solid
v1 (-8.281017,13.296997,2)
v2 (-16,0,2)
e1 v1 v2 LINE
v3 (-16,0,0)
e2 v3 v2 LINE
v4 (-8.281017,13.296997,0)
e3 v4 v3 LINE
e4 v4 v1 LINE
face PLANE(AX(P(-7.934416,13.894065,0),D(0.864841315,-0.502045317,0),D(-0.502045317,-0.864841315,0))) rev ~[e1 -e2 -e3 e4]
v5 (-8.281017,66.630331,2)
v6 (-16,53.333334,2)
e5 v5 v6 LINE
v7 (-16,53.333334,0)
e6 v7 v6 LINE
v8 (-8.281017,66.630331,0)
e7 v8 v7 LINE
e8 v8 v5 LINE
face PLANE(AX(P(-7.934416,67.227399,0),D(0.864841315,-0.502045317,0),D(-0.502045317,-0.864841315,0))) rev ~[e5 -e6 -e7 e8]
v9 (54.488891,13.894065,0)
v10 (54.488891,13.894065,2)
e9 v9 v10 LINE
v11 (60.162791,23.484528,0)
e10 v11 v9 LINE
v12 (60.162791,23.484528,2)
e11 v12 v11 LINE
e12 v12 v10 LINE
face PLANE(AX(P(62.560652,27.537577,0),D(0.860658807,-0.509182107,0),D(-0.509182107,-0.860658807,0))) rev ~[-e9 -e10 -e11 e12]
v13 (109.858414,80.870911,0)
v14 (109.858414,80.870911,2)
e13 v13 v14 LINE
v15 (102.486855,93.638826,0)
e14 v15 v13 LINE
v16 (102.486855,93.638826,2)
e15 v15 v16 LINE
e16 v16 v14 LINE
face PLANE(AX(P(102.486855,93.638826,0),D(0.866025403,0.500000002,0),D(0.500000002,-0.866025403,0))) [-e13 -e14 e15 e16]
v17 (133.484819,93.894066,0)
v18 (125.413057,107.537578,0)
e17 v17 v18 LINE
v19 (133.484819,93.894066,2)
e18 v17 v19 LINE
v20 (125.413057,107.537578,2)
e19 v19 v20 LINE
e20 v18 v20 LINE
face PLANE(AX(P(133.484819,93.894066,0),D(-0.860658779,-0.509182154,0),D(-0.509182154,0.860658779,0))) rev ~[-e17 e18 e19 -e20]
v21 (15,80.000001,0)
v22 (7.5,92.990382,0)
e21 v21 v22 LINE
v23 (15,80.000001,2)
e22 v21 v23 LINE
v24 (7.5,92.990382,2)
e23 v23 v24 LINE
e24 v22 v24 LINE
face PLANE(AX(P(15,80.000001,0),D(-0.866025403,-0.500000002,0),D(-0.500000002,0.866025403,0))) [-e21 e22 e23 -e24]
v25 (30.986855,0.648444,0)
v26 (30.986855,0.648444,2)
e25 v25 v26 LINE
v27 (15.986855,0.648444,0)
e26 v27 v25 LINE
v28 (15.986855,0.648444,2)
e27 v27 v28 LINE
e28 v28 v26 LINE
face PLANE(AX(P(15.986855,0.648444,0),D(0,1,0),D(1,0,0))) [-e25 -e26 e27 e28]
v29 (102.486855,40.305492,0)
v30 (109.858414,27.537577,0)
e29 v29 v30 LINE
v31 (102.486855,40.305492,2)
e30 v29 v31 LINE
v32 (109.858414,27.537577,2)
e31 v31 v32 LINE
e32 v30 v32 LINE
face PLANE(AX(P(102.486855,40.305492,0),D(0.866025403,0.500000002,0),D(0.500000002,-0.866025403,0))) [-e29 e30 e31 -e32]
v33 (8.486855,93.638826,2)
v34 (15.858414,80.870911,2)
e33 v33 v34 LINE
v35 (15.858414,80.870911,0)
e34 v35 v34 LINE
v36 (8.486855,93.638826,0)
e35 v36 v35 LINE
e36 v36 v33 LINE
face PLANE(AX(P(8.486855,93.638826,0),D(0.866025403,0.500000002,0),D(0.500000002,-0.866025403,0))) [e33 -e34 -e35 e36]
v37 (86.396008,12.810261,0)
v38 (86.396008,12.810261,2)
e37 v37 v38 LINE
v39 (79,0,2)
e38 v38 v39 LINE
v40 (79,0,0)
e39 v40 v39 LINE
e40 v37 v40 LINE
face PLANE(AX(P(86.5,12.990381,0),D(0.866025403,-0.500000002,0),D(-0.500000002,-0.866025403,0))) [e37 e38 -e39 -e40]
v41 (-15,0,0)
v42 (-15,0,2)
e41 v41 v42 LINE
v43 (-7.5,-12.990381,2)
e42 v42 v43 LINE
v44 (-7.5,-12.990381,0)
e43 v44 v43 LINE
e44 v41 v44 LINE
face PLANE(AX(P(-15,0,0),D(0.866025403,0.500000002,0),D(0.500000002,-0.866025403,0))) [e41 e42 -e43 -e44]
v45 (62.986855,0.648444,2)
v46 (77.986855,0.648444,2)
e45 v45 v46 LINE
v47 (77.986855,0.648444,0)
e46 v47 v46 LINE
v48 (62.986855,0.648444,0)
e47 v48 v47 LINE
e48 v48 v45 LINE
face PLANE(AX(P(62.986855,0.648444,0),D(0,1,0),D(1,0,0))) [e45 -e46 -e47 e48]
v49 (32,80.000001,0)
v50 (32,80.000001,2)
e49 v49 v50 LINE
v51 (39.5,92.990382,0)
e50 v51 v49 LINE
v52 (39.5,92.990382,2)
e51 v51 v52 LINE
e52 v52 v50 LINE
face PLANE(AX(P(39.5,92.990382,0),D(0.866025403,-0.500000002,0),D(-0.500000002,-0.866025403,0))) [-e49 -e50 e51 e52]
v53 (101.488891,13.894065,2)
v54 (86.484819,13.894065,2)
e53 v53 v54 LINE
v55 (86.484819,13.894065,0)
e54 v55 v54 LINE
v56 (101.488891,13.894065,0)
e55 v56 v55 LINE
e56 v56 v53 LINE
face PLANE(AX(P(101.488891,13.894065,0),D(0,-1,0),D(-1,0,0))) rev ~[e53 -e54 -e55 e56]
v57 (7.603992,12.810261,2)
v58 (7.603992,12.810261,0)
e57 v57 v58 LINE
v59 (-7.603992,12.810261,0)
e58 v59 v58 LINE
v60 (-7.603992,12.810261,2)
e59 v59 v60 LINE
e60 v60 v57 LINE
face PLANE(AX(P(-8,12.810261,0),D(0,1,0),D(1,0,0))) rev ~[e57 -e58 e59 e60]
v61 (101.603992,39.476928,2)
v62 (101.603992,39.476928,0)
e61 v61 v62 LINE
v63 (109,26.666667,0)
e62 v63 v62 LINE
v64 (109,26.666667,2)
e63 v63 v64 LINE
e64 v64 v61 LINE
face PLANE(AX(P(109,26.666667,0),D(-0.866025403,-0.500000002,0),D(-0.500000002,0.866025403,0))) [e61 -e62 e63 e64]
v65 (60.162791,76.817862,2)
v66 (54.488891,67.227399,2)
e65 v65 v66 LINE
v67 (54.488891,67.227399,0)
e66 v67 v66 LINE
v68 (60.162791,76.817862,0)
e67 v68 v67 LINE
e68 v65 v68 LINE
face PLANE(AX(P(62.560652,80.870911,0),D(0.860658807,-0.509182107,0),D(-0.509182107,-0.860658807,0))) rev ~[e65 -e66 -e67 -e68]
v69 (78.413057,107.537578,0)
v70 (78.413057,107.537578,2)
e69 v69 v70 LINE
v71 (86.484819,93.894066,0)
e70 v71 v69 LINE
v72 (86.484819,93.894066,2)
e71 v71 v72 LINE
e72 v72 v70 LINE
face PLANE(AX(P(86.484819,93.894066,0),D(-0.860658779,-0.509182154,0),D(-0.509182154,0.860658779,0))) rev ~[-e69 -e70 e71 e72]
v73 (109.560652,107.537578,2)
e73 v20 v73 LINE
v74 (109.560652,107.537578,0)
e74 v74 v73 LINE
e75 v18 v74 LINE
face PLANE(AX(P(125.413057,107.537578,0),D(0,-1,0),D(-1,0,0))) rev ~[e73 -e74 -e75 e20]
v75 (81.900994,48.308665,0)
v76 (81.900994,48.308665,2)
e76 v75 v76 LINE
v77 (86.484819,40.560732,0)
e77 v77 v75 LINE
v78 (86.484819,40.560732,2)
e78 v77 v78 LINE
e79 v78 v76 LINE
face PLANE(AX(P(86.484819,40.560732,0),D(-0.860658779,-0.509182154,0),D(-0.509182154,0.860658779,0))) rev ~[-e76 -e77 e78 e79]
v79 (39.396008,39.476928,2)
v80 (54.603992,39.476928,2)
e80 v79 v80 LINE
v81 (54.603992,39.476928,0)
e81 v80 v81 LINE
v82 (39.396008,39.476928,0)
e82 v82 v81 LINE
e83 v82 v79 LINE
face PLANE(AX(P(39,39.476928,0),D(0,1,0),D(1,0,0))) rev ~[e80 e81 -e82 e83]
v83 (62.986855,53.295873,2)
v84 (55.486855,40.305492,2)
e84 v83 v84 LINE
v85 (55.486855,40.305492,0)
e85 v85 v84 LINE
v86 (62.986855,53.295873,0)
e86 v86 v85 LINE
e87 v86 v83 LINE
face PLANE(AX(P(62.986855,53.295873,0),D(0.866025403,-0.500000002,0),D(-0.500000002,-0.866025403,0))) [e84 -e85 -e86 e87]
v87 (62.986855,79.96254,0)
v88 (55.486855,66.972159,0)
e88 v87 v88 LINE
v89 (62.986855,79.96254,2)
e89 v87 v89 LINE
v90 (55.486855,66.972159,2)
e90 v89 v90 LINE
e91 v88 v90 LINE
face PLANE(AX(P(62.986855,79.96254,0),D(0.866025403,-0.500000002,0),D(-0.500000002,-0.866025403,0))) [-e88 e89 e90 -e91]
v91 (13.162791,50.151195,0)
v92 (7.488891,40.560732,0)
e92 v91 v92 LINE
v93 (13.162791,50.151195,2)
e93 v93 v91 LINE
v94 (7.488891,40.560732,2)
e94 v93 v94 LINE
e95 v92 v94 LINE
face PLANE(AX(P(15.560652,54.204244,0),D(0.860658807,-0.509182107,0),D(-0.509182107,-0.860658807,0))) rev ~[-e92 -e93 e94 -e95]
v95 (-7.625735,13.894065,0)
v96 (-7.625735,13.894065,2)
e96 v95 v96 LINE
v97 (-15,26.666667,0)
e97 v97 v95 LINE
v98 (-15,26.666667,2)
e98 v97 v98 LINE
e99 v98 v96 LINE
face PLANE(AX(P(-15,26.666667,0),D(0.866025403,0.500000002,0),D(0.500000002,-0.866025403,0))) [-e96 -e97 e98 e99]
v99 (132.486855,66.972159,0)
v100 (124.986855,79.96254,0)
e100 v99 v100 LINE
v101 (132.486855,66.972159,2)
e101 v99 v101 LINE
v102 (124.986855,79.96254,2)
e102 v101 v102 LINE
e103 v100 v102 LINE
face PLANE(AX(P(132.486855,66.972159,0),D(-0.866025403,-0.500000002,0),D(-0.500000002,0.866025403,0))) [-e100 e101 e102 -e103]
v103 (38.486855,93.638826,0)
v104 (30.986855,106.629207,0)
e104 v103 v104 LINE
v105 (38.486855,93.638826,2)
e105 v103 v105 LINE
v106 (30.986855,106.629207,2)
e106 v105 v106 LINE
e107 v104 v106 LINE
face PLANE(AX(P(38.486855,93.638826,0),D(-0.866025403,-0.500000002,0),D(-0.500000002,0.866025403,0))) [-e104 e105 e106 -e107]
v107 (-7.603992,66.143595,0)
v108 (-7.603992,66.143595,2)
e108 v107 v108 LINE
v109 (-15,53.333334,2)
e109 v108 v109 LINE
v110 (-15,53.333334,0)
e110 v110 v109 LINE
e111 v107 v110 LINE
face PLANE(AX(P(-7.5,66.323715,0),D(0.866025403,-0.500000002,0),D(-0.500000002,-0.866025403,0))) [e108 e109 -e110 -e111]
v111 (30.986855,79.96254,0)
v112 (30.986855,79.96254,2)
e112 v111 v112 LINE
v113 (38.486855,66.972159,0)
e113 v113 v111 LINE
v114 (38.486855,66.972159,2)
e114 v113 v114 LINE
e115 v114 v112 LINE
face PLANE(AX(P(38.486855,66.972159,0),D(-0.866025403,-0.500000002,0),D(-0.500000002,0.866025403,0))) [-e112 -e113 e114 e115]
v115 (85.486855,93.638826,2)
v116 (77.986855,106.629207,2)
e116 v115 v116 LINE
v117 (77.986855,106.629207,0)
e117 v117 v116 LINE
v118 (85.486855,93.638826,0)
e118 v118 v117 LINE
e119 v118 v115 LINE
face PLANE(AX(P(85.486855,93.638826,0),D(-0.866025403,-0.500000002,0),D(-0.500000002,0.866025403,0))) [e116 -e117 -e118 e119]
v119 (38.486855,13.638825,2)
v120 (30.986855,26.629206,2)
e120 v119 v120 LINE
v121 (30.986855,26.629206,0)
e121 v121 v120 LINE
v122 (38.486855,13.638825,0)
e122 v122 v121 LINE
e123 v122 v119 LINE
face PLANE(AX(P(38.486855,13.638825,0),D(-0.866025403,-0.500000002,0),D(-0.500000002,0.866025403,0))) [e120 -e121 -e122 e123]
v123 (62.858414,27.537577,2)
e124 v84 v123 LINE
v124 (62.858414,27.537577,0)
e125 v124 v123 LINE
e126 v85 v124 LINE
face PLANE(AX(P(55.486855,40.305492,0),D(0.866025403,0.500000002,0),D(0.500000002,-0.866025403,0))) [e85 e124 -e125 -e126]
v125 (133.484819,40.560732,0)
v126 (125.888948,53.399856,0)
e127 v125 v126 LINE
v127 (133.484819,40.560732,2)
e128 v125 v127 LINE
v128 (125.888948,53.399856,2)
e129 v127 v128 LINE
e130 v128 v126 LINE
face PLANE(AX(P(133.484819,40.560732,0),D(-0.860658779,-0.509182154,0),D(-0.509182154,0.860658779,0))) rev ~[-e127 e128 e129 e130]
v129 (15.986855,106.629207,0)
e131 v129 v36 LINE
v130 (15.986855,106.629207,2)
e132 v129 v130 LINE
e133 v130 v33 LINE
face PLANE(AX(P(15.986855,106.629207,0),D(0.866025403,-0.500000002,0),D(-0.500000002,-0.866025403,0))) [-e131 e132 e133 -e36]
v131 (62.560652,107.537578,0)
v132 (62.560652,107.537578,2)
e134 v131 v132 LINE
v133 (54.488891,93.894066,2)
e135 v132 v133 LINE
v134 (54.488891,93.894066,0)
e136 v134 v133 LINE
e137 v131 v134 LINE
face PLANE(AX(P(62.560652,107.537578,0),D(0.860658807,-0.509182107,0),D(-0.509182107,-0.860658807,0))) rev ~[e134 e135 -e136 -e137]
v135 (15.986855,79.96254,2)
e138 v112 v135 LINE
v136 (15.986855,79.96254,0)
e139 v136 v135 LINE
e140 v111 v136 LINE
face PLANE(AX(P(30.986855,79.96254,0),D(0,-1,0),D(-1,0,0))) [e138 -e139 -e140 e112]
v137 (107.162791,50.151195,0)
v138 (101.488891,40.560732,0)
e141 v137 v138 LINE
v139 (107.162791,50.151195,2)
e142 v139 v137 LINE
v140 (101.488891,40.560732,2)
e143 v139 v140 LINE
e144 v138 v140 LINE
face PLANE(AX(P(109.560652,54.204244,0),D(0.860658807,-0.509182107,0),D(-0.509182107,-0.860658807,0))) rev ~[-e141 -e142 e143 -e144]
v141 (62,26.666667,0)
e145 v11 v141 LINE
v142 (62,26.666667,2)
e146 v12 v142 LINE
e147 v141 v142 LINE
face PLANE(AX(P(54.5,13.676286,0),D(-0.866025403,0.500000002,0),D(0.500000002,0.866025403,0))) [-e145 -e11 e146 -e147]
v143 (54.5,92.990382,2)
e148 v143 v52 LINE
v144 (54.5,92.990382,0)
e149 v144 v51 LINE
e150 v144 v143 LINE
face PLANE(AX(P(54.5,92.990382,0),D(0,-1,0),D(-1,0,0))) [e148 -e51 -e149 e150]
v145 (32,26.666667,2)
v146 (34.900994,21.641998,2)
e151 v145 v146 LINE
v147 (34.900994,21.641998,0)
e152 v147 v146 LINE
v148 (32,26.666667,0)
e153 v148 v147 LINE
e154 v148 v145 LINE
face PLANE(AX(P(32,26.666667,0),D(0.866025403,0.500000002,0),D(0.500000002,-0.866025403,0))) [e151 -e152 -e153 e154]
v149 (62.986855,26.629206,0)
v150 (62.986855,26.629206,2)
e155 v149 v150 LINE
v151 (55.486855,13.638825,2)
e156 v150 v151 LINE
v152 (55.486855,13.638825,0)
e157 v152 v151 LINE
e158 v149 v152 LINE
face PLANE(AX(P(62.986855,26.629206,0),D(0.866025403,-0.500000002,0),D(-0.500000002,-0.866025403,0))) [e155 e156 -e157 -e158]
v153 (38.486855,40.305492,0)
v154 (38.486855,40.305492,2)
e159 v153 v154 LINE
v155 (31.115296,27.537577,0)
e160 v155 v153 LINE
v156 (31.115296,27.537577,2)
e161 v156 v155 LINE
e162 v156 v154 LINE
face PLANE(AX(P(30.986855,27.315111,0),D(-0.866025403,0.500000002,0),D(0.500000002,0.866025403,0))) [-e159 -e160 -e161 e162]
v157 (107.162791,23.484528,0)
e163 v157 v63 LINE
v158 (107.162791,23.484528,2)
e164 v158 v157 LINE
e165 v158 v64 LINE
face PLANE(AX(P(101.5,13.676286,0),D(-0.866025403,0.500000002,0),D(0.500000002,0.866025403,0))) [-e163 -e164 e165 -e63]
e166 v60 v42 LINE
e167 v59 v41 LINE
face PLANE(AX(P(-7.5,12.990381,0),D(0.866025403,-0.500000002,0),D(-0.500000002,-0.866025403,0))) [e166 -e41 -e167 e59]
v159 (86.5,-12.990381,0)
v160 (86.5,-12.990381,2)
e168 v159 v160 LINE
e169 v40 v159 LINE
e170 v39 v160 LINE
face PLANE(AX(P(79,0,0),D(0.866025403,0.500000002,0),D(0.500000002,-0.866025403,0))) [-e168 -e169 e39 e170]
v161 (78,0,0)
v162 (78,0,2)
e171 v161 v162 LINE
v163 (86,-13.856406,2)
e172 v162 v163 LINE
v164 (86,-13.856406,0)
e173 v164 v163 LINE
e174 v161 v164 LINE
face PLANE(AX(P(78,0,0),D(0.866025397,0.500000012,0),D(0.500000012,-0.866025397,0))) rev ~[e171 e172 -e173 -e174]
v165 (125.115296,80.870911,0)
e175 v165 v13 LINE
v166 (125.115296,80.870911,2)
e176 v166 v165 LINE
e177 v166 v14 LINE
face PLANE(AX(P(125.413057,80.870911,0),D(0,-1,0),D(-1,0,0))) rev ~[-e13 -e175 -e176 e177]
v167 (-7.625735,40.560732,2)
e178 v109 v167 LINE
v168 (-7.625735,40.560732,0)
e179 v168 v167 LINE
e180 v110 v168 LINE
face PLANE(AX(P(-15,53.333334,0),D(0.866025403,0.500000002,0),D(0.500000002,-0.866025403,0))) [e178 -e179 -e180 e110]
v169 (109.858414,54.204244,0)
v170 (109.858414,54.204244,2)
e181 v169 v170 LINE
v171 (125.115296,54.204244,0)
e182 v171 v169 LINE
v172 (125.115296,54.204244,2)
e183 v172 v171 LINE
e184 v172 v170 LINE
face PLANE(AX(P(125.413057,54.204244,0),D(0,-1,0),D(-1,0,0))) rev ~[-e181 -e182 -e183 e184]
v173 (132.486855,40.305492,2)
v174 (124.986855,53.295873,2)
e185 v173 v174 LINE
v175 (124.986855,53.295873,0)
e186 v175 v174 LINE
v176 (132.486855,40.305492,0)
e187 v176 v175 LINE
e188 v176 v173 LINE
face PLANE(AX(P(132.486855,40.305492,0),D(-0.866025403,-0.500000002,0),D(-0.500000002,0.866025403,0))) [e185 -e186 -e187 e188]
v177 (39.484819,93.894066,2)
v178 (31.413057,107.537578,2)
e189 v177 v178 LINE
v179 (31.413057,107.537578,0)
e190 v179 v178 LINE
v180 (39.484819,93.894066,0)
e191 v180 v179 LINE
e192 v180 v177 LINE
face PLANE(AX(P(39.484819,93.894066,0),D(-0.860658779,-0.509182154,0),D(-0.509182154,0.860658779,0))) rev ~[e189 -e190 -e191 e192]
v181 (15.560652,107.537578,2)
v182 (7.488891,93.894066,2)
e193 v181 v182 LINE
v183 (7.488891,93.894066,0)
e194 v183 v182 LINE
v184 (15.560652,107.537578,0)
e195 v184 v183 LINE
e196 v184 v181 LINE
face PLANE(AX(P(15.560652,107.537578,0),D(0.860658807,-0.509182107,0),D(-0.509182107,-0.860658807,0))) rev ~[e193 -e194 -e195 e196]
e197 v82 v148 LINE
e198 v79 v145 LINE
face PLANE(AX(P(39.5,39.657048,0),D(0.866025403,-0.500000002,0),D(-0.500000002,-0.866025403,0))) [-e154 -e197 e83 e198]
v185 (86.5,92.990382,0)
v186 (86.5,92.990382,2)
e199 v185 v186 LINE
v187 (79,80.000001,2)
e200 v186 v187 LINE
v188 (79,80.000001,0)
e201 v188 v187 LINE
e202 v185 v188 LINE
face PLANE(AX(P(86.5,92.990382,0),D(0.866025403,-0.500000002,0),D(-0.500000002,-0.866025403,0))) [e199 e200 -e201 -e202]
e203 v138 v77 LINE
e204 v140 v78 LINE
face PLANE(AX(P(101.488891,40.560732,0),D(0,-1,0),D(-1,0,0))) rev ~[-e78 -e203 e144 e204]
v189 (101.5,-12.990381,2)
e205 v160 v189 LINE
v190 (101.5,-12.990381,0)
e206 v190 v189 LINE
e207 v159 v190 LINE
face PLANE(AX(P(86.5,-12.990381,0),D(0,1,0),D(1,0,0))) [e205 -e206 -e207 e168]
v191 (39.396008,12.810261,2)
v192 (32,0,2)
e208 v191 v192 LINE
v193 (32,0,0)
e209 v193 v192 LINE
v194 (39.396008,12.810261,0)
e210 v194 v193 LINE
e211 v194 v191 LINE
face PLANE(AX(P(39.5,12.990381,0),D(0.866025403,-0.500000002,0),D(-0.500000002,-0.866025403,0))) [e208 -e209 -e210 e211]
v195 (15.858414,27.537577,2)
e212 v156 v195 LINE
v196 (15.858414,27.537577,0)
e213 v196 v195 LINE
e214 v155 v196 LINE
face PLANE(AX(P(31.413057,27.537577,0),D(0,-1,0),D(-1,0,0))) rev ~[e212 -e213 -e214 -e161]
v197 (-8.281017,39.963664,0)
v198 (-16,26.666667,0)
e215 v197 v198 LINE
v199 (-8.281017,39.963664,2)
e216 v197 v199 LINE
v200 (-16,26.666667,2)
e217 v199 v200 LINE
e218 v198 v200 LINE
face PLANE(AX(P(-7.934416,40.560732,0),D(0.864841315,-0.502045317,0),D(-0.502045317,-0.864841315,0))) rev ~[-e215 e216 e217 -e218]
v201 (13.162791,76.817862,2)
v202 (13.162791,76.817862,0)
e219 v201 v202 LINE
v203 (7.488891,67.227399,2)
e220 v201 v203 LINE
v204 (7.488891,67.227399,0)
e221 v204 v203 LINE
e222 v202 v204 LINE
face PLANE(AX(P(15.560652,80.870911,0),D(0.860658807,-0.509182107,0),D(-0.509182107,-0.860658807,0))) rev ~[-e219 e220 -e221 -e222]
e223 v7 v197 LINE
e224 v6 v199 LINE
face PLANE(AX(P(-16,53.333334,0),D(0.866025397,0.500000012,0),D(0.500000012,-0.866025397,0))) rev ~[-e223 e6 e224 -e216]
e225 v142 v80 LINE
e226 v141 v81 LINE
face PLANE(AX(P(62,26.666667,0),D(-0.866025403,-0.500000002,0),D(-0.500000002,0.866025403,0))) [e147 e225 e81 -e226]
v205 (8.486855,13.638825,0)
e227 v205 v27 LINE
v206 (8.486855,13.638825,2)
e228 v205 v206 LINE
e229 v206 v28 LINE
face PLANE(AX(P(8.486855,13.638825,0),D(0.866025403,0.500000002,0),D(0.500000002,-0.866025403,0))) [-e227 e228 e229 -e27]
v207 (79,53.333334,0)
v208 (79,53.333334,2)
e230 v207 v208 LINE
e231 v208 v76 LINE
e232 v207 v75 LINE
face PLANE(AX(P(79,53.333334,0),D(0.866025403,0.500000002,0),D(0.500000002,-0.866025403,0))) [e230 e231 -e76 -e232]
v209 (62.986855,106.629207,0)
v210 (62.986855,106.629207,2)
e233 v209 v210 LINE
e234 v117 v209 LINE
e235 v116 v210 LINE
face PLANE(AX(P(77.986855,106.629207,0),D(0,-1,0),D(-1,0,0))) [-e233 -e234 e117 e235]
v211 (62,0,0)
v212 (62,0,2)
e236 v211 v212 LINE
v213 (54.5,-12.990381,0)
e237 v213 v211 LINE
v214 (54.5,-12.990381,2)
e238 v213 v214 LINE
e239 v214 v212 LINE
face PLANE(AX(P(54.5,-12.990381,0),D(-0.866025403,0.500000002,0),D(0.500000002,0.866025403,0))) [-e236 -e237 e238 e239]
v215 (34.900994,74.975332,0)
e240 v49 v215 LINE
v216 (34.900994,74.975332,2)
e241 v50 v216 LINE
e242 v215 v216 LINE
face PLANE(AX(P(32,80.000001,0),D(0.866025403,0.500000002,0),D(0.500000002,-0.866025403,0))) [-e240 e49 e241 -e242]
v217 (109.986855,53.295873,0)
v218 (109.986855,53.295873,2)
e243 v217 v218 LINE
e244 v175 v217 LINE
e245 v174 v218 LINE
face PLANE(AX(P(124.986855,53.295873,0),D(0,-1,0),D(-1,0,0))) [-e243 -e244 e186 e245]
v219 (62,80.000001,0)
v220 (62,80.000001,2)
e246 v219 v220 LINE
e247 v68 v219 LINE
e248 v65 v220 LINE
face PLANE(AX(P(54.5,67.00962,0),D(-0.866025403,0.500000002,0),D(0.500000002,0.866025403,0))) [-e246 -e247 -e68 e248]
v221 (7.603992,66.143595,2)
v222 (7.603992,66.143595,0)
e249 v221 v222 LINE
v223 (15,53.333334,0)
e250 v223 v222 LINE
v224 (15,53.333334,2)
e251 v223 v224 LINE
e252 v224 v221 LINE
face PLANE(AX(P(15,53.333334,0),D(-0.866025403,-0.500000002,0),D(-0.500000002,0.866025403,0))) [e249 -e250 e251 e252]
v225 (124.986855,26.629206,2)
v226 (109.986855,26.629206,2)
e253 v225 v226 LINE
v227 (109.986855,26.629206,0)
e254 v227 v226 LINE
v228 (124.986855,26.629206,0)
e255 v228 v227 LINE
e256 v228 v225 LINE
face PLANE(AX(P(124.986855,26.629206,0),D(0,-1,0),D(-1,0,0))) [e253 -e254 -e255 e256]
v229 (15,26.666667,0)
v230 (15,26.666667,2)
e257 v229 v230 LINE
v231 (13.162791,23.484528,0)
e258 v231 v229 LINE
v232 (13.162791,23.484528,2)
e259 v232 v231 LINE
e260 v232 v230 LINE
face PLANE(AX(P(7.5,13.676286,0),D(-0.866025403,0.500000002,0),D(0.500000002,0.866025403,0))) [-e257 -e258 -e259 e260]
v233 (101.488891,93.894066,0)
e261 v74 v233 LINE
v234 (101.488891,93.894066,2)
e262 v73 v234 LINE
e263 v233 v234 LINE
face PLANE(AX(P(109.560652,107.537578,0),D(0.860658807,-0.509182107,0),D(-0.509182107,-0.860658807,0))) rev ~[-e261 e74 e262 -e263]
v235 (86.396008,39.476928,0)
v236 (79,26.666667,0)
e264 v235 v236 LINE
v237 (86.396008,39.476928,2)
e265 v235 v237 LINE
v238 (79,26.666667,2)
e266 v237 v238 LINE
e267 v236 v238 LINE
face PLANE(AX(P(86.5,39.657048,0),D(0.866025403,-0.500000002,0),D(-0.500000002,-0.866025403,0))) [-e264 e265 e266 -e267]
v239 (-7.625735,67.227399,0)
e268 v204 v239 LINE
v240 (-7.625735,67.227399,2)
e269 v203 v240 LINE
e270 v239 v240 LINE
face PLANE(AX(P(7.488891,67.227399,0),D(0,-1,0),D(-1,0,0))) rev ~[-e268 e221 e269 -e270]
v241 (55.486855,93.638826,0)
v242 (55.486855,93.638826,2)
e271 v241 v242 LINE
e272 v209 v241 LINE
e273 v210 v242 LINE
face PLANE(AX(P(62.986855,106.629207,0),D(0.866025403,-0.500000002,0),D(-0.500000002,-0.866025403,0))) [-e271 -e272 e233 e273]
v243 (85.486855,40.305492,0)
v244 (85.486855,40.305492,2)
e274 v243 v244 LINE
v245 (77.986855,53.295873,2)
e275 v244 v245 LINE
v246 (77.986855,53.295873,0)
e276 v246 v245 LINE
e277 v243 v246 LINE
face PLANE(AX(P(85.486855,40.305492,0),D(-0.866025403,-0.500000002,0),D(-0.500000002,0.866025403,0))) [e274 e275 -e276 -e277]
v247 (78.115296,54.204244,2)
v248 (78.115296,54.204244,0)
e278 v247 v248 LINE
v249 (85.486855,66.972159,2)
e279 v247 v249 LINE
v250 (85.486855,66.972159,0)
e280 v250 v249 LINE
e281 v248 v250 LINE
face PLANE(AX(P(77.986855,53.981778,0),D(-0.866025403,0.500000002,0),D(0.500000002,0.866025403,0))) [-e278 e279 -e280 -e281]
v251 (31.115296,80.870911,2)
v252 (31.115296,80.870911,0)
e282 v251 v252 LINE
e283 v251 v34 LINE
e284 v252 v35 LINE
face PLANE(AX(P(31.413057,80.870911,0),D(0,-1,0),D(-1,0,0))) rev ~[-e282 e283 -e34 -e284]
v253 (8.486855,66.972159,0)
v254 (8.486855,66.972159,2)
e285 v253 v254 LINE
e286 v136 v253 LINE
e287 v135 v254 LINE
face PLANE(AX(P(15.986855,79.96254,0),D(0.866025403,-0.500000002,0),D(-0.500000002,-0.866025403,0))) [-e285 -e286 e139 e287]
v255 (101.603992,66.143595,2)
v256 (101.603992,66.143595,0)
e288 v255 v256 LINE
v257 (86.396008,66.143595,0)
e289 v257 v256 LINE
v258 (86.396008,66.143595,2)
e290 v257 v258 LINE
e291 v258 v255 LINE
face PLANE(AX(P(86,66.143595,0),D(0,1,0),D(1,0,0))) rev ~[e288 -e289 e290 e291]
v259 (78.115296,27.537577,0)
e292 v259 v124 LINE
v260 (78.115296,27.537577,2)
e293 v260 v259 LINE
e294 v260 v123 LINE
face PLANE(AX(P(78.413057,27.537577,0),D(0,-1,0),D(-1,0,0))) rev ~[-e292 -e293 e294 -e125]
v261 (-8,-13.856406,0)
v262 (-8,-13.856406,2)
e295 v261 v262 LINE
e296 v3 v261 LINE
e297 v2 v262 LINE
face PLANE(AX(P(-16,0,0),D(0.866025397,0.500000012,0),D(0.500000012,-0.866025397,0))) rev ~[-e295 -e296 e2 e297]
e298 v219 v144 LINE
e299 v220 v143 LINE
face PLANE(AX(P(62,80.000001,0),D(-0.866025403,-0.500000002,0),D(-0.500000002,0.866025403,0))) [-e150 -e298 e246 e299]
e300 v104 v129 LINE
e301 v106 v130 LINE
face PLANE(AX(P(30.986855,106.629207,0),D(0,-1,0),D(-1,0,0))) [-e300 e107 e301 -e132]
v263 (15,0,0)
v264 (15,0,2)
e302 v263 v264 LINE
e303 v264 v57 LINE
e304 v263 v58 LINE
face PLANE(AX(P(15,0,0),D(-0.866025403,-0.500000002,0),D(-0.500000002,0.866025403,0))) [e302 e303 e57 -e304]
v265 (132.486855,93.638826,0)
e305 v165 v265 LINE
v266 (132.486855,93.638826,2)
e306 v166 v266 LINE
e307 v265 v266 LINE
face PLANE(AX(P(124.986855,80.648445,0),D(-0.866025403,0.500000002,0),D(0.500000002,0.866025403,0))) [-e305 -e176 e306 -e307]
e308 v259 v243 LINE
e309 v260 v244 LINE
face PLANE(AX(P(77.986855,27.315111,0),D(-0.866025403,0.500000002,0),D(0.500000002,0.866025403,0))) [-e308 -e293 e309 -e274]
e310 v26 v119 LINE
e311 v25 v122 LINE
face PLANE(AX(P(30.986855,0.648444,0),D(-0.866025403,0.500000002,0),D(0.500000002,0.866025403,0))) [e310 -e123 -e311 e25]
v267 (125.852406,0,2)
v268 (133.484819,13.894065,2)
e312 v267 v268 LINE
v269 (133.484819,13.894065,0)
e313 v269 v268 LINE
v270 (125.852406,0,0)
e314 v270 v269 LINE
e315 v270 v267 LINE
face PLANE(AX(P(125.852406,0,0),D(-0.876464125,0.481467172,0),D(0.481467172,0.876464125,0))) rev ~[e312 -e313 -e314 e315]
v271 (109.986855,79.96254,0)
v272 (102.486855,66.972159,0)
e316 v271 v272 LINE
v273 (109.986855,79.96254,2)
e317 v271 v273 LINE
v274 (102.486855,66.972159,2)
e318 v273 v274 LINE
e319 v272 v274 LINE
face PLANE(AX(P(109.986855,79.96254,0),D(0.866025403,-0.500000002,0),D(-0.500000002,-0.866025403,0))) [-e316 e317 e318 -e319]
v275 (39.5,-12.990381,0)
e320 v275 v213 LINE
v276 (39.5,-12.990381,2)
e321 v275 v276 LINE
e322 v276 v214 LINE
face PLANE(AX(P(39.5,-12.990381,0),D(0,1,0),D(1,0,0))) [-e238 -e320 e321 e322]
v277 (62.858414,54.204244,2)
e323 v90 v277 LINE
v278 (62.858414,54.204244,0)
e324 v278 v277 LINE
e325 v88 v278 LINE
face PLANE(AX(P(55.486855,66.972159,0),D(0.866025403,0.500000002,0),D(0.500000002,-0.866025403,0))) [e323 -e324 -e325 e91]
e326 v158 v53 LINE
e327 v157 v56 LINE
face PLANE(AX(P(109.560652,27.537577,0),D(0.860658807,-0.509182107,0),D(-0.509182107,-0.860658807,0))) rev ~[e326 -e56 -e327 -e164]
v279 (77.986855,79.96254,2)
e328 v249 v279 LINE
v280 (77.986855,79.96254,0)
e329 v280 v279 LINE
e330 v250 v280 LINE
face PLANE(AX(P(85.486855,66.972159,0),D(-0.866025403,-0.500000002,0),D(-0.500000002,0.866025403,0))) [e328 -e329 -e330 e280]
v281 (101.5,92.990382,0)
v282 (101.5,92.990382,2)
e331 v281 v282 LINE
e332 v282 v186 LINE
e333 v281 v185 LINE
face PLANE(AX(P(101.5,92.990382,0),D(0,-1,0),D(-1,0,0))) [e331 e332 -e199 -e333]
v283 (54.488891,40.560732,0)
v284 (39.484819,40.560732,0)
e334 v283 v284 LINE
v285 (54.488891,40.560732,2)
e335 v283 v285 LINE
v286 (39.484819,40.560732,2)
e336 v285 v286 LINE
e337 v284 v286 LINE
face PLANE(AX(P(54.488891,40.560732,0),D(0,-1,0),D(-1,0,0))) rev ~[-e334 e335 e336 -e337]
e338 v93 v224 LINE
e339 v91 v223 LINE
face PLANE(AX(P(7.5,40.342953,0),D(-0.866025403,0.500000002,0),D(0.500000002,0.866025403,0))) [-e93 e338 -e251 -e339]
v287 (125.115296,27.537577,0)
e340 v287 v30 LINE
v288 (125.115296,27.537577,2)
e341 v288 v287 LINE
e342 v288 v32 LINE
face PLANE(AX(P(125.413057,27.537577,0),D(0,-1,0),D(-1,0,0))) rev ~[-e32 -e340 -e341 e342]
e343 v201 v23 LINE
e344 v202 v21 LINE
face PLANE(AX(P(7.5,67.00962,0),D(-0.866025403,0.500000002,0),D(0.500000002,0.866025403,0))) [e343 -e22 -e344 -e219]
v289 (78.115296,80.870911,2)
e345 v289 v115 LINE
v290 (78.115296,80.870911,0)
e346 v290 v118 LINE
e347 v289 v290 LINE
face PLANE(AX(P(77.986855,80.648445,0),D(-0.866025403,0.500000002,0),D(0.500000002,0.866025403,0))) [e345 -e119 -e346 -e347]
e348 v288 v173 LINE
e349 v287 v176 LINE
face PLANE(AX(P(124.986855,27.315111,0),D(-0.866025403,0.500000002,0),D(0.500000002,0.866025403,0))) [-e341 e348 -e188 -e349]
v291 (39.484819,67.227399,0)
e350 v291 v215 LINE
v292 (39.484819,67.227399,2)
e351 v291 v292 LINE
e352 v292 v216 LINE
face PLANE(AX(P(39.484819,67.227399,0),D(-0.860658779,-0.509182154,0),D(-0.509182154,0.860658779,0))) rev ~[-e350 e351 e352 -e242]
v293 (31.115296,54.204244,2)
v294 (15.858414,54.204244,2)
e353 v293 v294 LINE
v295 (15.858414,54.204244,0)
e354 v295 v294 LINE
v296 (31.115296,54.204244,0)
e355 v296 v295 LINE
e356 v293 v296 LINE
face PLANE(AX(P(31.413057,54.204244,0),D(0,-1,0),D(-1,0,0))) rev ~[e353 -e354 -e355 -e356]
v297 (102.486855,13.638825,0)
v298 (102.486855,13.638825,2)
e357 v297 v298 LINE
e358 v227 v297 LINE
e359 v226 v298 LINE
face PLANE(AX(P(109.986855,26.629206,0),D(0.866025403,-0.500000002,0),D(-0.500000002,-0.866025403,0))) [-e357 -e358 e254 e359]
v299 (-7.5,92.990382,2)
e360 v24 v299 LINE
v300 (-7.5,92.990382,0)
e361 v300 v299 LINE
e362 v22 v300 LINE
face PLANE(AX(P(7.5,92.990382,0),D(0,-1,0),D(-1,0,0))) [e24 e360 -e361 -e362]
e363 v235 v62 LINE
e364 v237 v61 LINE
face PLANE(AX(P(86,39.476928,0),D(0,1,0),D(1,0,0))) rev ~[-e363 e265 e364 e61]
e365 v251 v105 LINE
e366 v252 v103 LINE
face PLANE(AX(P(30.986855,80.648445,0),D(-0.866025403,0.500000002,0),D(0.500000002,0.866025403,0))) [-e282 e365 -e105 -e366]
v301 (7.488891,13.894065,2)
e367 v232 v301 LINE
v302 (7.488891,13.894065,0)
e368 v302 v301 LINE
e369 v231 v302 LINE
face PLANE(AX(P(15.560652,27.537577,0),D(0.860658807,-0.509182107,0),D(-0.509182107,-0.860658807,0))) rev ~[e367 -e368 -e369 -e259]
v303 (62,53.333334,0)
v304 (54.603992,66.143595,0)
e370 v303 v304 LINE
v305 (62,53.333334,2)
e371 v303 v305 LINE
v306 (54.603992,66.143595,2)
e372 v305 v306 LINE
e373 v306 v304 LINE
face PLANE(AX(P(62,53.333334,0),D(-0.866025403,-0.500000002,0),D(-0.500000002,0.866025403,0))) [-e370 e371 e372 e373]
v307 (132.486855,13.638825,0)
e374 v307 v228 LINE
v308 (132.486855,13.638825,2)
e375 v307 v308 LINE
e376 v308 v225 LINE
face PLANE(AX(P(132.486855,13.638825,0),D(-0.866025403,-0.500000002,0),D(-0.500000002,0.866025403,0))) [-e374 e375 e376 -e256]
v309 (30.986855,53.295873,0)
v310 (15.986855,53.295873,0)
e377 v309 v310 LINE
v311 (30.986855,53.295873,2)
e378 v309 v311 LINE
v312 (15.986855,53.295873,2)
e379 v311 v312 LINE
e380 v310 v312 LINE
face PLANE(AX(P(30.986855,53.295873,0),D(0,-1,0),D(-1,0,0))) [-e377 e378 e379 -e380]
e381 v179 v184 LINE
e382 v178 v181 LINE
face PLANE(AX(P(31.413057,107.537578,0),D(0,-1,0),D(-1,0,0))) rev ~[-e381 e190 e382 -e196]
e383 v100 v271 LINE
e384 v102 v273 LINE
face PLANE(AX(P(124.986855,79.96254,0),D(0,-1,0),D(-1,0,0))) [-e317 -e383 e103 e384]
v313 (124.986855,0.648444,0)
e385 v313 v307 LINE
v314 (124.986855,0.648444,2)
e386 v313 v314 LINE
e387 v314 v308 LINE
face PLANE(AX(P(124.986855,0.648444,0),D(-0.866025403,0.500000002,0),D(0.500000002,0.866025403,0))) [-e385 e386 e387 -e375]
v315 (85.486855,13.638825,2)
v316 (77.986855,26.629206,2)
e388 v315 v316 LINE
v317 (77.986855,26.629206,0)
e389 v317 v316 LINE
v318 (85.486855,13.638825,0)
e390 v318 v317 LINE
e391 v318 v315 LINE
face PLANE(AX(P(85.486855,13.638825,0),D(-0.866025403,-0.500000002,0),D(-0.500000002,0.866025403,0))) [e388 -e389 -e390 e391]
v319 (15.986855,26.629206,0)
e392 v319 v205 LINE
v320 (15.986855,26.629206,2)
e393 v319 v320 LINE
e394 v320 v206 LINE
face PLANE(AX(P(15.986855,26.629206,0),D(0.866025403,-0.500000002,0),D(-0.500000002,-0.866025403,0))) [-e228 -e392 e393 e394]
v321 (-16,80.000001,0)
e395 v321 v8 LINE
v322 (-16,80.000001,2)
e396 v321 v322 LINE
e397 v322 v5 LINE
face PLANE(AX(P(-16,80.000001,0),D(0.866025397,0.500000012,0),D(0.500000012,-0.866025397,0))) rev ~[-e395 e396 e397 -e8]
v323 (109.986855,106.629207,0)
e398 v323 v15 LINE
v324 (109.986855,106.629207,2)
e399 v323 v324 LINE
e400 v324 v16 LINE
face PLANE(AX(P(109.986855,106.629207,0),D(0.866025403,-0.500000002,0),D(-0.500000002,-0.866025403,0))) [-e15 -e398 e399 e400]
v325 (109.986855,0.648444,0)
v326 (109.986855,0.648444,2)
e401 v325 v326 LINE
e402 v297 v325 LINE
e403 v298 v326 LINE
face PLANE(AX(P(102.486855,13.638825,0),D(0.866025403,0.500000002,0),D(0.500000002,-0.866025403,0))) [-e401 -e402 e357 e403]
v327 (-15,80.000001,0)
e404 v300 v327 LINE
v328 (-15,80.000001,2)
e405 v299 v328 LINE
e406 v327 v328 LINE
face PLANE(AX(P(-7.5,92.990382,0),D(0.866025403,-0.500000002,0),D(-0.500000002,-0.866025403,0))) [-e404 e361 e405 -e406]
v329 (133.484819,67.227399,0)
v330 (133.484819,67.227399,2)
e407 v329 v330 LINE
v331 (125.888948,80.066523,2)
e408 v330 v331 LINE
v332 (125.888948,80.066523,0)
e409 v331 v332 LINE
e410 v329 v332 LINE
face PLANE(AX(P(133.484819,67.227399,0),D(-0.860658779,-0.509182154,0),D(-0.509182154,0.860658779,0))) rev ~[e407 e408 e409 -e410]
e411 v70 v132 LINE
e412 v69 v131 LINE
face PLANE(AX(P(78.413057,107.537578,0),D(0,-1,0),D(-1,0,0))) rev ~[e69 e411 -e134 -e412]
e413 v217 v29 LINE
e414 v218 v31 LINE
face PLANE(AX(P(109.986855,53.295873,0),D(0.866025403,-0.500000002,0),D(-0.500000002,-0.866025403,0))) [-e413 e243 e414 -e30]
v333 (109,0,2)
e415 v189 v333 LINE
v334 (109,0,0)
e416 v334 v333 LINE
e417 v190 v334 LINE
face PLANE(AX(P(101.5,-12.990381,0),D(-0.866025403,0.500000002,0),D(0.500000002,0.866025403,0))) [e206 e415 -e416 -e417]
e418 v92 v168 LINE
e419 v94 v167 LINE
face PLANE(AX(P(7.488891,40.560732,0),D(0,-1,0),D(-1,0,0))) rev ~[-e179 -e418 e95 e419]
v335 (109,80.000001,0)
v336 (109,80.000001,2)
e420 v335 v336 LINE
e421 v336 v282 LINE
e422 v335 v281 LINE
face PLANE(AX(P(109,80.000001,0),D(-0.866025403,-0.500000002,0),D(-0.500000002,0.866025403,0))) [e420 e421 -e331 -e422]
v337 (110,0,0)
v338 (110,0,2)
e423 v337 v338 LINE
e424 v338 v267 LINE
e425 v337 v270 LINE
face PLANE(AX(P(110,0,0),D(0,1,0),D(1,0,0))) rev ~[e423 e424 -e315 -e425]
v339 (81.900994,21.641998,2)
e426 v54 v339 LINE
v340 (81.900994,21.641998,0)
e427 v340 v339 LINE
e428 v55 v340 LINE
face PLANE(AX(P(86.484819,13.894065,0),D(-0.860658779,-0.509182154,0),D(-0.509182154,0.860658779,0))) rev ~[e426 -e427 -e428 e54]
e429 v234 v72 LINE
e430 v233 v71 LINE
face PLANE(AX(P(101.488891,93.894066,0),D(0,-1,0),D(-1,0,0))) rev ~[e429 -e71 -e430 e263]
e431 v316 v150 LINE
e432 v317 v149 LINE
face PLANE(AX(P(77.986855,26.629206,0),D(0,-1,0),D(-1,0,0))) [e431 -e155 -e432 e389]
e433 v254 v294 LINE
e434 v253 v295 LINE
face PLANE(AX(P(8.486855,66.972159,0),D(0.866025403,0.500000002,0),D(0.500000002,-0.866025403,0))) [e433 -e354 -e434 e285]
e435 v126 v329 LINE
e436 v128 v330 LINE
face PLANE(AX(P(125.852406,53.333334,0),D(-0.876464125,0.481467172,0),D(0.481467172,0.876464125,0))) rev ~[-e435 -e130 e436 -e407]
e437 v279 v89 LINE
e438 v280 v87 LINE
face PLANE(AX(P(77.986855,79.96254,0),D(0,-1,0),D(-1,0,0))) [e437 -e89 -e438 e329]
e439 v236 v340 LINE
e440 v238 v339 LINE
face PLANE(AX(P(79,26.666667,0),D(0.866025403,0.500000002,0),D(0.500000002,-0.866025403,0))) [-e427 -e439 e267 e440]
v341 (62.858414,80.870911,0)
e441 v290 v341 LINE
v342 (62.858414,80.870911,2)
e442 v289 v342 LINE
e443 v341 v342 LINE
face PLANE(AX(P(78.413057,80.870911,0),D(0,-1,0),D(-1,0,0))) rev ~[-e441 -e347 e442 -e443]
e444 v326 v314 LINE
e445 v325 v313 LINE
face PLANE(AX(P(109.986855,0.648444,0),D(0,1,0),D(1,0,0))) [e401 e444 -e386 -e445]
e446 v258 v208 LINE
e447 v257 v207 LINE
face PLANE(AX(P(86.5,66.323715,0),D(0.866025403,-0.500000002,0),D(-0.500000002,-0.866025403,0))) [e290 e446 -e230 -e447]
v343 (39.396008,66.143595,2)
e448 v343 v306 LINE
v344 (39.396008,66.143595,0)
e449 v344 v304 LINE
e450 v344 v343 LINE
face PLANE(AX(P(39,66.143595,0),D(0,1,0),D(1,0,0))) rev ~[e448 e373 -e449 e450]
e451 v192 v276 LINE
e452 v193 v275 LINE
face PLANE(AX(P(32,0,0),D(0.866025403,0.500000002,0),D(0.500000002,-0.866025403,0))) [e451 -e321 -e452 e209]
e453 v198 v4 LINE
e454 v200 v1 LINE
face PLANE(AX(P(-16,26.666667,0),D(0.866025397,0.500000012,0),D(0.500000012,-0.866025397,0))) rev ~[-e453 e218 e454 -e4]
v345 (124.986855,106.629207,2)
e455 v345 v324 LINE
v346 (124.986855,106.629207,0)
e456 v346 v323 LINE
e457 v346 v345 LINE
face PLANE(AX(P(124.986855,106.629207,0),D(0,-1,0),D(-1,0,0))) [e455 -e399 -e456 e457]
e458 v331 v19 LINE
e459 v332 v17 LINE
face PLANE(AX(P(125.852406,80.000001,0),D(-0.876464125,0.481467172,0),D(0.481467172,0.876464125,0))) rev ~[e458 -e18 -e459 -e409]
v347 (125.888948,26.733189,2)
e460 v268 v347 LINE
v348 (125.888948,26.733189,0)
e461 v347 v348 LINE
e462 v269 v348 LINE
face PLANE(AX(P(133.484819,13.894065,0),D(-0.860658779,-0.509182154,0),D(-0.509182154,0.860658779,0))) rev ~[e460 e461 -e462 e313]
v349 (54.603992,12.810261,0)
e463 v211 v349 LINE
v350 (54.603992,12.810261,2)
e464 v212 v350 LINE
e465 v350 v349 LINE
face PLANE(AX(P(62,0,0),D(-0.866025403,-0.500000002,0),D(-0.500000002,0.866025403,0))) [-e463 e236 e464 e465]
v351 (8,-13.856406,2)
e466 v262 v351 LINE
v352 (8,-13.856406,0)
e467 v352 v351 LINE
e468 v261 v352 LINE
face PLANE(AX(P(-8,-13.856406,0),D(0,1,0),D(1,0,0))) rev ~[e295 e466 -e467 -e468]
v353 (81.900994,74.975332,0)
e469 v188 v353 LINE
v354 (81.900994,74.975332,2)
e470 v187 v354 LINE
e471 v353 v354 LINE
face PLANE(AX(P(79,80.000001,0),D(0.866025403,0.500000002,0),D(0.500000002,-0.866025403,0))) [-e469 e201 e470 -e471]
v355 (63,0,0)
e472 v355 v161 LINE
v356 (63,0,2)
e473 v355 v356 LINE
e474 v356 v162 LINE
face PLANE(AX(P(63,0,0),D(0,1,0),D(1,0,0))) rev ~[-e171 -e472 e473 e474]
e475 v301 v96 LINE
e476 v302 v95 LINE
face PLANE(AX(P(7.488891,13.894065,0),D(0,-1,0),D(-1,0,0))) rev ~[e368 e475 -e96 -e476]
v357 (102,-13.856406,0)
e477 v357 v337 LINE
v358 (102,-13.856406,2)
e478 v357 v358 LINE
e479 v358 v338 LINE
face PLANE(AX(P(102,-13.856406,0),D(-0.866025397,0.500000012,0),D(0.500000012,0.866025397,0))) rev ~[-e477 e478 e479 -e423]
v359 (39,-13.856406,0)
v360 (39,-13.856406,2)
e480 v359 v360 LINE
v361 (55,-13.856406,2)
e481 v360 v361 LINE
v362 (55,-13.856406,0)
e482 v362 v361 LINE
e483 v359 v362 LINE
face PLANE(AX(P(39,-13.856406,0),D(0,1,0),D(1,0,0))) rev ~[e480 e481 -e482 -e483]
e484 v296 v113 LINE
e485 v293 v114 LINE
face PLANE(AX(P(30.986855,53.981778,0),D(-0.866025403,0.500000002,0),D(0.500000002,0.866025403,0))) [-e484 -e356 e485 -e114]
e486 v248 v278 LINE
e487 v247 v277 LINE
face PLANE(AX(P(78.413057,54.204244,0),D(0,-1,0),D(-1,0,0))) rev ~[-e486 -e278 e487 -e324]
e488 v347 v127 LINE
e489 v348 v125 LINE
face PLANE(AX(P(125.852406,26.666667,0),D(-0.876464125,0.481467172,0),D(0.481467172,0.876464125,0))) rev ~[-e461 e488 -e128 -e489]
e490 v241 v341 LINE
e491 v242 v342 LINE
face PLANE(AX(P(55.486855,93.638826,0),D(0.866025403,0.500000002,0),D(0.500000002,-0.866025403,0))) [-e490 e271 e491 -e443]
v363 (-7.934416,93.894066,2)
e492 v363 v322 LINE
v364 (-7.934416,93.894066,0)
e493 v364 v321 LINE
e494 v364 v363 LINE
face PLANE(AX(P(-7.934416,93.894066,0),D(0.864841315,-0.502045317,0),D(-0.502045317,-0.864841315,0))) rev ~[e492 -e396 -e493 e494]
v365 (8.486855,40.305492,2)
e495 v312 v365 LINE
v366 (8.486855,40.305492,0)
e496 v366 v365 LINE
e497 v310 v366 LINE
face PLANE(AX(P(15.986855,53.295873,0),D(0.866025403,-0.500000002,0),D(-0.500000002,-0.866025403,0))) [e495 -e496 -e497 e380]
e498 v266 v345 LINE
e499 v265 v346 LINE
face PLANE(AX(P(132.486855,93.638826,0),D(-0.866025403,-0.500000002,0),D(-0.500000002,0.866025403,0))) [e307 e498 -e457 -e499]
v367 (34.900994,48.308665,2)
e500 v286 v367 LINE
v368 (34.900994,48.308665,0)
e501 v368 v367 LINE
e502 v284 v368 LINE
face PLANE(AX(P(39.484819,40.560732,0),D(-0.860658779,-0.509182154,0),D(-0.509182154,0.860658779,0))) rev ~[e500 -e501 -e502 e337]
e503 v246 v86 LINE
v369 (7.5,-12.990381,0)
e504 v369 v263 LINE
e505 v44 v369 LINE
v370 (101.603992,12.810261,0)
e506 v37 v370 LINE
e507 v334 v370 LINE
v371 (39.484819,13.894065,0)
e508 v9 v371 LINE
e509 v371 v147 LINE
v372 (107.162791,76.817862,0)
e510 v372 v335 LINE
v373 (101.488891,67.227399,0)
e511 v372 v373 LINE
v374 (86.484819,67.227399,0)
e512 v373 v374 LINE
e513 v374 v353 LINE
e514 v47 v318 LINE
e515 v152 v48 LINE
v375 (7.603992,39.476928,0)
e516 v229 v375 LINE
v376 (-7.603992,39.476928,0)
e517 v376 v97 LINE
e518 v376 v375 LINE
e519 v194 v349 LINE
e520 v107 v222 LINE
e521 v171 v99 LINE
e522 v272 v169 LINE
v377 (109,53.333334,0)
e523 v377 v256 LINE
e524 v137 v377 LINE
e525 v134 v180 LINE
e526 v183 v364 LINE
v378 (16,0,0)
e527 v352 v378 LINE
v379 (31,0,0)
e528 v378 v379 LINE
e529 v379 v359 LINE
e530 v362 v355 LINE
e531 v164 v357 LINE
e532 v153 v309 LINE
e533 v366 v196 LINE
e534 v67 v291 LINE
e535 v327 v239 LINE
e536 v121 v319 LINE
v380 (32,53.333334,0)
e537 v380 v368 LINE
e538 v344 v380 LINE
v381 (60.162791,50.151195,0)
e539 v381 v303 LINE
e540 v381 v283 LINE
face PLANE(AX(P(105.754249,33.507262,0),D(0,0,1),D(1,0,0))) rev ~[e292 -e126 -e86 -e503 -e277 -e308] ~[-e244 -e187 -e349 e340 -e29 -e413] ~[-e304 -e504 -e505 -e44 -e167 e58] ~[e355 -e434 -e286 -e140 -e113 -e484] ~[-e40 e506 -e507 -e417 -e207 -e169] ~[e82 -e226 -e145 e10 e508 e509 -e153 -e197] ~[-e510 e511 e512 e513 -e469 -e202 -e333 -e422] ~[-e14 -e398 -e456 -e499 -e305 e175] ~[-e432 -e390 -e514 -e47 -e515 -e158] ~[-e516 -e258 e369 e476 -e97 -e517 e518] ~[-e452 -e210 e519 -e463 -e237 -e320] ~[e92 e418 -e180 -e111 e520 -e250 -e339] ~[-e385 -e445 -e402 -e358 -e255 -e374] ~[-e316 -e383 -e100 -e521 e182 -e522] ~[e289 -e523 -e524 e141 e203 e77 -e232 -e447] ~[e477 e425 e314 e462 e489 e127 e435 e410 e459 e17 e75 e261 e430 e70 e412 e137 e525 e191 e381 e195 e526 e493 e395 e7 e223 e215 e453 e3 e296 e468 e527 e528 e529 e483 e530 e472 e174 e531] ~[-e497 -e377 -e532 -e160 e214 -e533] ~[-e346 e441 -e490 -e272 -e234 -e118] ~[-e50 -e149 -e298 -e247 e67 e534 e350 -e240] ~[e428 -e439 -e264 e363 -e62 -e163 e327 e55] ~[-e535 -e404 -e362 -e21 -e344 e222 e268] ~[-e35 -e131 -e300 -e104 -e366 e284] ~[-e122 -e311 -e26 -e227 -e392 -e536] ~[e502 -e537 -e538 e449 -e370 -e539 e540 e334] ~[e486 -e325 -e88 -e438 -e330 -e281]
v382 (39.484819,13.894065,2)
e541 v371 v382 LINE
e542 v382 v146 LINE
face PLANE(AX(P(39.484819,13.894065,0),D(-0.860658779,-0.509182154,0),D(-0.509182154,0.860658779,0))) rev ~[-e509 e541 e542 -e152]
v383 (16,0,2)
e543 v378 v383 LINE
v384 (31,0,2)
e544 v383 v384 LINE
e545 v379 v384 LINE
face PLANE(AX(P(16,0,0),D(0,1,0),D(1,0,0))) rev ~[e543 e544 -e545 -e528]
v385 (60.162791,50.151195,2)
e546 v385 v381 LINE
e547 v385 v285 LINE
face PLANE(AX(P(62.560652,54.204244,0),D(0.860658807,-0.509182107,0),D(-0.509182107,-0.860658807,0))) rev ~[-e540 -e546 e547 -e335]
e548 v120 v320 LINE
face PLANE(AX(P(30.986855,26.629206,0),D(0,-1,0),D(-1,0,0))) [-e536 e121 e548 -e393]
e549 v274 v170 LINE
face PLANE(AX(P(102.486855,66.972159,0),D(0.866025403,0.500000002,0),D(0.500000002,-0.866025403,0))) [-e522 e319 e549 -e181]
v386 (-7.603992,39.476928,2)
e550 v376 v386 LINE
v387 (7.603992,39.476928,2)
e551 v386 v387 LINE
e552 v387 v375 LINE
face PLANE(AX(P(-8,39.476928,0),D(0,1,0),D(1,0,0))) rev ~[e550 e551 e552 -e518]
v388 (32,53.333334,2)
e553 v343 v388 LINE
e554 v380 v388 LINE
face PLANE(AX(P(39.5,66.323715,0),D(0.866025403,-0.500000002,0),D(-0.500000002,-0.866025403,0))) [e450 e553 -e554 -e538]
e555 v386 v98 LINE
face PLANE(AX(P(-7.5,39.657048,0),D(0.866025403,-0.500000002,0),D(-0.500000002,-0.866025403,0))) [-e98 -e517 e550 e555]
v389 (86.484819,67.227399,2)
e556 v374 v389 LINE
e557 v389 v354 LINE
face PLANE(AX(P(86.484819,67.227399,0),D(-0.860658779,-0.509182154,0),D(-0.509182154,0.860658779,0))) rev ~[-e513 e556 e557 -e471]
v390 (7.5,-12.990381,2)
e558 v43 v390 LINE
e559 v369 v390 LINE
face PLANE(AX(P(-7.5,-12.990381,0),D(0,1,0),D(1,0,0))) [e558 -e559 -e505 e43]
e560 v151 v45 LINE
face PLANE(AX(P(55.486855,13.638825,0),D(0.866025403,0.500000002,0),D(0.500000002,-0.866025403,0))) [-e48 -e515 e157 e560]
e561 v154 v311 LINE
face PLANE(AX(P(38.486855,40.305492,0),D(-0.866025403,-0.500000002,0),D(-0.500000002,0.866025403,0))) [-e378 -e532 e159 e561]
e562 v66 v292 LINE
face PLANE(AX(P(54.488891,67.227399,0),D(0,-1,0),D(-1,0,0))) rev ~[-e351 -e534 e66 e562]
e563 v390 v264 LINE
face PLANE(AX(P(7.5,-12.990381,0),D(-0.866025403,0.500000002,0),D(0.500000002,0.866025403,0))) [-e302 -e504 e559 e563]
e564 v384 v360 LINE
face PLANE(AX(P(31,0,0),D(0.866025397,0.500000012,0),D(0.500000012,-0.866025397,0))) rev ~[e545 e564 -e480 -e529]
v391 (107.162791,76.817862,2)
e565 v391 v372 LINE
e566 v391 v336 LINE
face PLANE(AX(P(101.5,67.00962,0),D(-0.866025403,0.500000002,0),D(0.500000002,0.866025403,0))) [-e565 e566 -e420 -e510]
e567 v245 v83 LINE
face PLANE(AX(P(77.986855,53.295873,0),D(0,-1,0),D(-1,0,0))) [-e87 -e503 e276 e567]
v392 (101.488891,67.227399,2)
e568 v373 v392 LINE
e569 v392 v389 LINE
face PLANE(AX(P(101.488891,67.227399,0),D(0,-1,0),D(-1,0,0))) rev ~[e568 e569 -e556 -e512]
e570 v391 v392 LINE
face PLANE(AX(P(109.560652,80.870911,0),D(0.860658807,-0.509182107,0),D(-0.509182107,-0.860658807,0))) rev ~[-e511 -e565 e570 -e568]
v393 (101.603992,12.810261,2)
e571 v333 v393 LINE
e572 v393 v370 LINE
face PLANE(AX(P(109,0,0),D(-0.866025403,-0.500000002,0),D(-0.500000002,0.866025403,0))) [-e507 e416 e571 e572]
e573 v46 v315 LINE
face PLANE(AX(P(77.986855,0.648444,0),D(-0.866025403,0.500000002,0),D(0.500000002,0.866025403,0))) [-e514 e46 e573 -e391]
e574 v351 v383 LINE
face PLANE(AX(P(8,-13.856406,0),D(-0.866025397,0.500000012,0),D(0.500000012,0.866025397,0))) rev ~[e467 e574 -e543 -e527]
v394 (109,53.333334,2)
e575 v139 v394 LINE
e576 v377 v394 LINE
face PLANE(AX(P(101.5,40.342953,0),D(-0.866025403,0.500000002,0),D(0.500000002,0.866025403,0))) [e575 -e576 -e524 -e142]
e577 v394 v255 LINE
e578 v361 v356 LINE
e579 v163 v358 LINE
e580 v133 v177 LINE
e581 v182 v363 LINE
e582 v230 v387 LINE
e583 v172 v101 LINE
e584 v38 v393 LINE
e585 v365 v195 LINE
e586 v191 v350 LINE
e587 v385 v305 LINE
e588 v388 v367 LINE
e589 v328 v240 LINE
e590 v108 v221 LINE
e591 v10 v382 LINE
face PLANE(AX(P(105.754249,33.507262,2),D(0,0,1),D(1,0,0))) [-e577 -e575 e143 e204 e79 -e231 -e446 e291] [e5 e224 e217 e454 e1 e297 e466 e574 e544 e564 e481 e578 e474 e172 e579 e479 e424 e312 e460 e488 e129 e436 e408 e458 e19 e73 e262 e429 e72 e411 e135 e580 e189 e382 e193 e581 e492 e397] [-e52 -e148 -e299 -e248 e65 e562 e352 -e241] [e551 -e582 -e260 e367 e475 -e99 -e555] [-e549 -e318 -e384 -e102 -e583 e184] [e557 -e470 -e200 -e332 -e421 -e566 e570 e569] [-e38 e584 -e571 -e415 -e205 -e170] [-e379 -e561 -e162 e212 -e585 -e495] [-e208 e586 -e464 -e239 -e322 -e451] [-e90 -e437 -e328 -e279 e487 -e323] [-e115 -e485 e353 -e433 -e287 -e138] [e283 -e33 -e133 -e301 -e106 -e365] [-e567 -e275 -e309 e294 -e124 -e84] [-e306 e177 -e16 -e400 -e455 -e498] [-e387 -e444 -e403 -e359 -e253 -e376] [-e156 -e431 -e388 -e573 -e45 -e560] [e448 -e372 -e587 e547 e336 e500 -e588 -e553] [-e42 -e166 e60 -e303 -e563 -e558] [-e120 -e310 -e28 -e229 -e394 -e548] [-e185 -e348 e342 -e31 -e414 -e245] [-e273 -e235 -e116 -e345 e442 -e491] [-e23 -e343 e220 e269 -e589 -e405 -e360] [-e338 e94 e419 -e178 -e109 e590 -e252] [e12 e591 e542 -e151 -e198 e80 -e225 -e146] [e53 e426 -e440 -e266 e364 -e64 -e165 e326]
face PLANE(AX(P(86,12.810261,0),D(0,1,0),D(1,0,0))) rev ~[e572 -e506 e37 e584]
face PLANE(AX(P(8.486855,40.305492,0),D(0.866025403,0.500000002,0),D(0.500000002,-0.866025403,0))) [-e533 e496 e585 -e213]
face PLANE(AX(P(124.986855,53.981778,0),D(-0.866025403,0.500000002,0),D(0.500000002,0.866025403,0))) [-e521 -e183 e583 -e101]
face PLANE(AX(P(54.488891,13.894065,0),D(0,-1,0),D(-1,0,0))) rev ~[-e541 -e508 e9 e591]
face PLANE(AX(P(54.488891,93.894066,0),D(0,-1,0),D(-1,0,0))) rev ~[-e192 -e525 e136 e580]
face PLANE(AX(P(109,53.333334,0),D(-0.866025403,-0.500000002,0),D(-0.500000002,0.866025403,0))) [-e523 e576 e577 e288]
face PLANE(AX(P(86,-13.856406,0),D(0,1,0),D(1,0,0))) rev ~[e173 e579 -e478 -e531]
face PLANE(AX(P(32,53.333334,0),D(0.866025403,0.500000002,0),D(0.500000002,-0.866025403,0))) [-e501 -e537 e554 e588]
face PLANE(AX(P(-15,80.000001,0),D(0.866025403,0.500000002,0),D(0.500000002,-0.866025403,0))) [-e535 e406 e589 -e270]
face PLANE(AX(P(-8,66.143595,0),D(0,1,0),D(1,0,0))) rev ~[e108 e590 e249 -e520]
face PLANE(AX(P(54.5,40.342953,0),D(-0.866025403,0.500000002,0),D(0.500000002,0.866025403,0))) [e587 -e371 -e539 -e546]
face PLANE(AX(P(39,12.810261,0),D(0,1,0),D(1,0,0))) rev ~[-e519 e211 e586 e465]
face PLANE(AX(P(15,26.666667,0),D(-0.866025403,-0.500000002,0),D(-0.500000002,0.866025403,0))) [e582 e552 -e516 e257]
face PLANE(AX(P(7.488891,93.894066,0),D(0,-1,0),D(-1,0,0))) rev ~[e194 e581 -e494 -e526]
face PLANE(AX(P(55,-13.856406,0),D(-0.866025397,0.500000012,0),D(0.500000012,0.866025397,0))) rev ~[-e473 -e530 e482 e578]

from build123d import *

# Parameters (mm, degrees)
PAD_DEPTH                 = 2
PAD_LINEARPATTERN_2_DEPTH = 2
PAD_LINEARPATTERN_3_DEPTH = 2
LINEARPATTERN001_COUNT    = 4
LINEARPATTERN001_PITCH    = 26.666667


with BuildPart() as part:
    # Sketch → Pad (new body)
    with BuildSketch(Plane.XY):
        Polygon((7.488891, 13.894065), (-7.934416, 13.894065), (-16, 0), (-8, -13.856406), (8, -13.856406), (16, 0), (31.852406, 0), (39.484819, 13.894065), (31.413057, 27.537577), (15.560652, 27.537577), align=None)
        Polygon((-15, 0), (-7.5, -12.990381), (7.5, -12.990381), (15, 0), (7.5, 12.990381), (-7.5, 12.990381), align=None, mode=Mode.SUBTRACT)
        Polygon((8.486855, 13.638825), (15.986855, 0.648444), (30.986855, 0.648444), (38.486855, 13.638825), (30.986855, 26.629206), (15.986855, 26.629206), align=None, mode=Mode.SUBTRACT)
    pad = extrude(amount=PAD_DEPTH)

    # Sketch LinearPattern 2 → Pad LinearPattern 2 (add)
    with BuildSketch(Plane(origin=(47, 0, 0), x_dir=(1, 0, 0), z_dir=(0, 0, 1))):
        Polygon((7.488891, 13.894065), (-7.934416, 13.894065), (-16, 0), (-8, -13.856406), (8, -13.856406), (16, 0), (31.852406, 0), (39.484819, 13.894065), (31.413057, 27.537577), (15.560652, 27.537577), align=None)
        Polygon((-15, 0), (-7.5, -12.990381), (7.5, -12.990381), (15, 0), (7.5, 12.990381), (-7.5, 12.990381), align=None, mode=Mode.SUBTRACT)
        Polygon((8.486855, 13.638825), (15.986855, 0.648444), (30.986855, 0.648444), (38.486855, 13.638825), (30.986855, 26.629206), (15.986855, 26.629206), align=None, mode=Mode.SUBTRACT)
    pad_linearpattern_2 = extrude(amount=PAD_LINEARPATTERN_2_DEPTH)

    # Sketch LinearPattern 3 → Pad LinearPattern 3 (add)
    with BuildSketch(Plane(origin=(94, 0, 0), x_dir=(1, 0, 0), z_dir=(0, 0, 1))):
        Polygon((7.488891, 13.894065), (-7.934416, 13.894065), (-16, 0), (-8, -13.856406), (8, -13.856406), (16, 0), (31.852406, 0), (39.484819, 13.894065), (31.413057, 27.537577), (15.560652, 27.537577), align=None)
        Polygon((-15, 0), (-7.5, -12.990381), (7.5, -12.990381), (15, 0), (7.5, 12.990381), (-7.5, 12.990381), align=None, mode=Mode.SUBTRACT)
        Polygon((8.486855, 13.638825), (15.986855, 0.648444), (30.986855, 0.648444), (38.486855, 13.638825), (30.986855, 26.629206), (15.986855, 26.629206), align=None, mode=Mode.SUBTRACT)
    pad_linearpattern_3 = extrude(amount=PAD_LINEARPATTERN_3_DEPTH)

    # LinearPattern001: Pad, Pad LinearPattern 2, Pad LinearPattern 3 ×4
    with Locations(*[(0, i * LINEARPATTERN001_PITCH, 0) for i in range(1, LINEARPATTERN001_COUNT)]):
        add(pad)
        add(pad_linearpattern_2)
        add(pad_linearpattern_3)


solid = part.part
